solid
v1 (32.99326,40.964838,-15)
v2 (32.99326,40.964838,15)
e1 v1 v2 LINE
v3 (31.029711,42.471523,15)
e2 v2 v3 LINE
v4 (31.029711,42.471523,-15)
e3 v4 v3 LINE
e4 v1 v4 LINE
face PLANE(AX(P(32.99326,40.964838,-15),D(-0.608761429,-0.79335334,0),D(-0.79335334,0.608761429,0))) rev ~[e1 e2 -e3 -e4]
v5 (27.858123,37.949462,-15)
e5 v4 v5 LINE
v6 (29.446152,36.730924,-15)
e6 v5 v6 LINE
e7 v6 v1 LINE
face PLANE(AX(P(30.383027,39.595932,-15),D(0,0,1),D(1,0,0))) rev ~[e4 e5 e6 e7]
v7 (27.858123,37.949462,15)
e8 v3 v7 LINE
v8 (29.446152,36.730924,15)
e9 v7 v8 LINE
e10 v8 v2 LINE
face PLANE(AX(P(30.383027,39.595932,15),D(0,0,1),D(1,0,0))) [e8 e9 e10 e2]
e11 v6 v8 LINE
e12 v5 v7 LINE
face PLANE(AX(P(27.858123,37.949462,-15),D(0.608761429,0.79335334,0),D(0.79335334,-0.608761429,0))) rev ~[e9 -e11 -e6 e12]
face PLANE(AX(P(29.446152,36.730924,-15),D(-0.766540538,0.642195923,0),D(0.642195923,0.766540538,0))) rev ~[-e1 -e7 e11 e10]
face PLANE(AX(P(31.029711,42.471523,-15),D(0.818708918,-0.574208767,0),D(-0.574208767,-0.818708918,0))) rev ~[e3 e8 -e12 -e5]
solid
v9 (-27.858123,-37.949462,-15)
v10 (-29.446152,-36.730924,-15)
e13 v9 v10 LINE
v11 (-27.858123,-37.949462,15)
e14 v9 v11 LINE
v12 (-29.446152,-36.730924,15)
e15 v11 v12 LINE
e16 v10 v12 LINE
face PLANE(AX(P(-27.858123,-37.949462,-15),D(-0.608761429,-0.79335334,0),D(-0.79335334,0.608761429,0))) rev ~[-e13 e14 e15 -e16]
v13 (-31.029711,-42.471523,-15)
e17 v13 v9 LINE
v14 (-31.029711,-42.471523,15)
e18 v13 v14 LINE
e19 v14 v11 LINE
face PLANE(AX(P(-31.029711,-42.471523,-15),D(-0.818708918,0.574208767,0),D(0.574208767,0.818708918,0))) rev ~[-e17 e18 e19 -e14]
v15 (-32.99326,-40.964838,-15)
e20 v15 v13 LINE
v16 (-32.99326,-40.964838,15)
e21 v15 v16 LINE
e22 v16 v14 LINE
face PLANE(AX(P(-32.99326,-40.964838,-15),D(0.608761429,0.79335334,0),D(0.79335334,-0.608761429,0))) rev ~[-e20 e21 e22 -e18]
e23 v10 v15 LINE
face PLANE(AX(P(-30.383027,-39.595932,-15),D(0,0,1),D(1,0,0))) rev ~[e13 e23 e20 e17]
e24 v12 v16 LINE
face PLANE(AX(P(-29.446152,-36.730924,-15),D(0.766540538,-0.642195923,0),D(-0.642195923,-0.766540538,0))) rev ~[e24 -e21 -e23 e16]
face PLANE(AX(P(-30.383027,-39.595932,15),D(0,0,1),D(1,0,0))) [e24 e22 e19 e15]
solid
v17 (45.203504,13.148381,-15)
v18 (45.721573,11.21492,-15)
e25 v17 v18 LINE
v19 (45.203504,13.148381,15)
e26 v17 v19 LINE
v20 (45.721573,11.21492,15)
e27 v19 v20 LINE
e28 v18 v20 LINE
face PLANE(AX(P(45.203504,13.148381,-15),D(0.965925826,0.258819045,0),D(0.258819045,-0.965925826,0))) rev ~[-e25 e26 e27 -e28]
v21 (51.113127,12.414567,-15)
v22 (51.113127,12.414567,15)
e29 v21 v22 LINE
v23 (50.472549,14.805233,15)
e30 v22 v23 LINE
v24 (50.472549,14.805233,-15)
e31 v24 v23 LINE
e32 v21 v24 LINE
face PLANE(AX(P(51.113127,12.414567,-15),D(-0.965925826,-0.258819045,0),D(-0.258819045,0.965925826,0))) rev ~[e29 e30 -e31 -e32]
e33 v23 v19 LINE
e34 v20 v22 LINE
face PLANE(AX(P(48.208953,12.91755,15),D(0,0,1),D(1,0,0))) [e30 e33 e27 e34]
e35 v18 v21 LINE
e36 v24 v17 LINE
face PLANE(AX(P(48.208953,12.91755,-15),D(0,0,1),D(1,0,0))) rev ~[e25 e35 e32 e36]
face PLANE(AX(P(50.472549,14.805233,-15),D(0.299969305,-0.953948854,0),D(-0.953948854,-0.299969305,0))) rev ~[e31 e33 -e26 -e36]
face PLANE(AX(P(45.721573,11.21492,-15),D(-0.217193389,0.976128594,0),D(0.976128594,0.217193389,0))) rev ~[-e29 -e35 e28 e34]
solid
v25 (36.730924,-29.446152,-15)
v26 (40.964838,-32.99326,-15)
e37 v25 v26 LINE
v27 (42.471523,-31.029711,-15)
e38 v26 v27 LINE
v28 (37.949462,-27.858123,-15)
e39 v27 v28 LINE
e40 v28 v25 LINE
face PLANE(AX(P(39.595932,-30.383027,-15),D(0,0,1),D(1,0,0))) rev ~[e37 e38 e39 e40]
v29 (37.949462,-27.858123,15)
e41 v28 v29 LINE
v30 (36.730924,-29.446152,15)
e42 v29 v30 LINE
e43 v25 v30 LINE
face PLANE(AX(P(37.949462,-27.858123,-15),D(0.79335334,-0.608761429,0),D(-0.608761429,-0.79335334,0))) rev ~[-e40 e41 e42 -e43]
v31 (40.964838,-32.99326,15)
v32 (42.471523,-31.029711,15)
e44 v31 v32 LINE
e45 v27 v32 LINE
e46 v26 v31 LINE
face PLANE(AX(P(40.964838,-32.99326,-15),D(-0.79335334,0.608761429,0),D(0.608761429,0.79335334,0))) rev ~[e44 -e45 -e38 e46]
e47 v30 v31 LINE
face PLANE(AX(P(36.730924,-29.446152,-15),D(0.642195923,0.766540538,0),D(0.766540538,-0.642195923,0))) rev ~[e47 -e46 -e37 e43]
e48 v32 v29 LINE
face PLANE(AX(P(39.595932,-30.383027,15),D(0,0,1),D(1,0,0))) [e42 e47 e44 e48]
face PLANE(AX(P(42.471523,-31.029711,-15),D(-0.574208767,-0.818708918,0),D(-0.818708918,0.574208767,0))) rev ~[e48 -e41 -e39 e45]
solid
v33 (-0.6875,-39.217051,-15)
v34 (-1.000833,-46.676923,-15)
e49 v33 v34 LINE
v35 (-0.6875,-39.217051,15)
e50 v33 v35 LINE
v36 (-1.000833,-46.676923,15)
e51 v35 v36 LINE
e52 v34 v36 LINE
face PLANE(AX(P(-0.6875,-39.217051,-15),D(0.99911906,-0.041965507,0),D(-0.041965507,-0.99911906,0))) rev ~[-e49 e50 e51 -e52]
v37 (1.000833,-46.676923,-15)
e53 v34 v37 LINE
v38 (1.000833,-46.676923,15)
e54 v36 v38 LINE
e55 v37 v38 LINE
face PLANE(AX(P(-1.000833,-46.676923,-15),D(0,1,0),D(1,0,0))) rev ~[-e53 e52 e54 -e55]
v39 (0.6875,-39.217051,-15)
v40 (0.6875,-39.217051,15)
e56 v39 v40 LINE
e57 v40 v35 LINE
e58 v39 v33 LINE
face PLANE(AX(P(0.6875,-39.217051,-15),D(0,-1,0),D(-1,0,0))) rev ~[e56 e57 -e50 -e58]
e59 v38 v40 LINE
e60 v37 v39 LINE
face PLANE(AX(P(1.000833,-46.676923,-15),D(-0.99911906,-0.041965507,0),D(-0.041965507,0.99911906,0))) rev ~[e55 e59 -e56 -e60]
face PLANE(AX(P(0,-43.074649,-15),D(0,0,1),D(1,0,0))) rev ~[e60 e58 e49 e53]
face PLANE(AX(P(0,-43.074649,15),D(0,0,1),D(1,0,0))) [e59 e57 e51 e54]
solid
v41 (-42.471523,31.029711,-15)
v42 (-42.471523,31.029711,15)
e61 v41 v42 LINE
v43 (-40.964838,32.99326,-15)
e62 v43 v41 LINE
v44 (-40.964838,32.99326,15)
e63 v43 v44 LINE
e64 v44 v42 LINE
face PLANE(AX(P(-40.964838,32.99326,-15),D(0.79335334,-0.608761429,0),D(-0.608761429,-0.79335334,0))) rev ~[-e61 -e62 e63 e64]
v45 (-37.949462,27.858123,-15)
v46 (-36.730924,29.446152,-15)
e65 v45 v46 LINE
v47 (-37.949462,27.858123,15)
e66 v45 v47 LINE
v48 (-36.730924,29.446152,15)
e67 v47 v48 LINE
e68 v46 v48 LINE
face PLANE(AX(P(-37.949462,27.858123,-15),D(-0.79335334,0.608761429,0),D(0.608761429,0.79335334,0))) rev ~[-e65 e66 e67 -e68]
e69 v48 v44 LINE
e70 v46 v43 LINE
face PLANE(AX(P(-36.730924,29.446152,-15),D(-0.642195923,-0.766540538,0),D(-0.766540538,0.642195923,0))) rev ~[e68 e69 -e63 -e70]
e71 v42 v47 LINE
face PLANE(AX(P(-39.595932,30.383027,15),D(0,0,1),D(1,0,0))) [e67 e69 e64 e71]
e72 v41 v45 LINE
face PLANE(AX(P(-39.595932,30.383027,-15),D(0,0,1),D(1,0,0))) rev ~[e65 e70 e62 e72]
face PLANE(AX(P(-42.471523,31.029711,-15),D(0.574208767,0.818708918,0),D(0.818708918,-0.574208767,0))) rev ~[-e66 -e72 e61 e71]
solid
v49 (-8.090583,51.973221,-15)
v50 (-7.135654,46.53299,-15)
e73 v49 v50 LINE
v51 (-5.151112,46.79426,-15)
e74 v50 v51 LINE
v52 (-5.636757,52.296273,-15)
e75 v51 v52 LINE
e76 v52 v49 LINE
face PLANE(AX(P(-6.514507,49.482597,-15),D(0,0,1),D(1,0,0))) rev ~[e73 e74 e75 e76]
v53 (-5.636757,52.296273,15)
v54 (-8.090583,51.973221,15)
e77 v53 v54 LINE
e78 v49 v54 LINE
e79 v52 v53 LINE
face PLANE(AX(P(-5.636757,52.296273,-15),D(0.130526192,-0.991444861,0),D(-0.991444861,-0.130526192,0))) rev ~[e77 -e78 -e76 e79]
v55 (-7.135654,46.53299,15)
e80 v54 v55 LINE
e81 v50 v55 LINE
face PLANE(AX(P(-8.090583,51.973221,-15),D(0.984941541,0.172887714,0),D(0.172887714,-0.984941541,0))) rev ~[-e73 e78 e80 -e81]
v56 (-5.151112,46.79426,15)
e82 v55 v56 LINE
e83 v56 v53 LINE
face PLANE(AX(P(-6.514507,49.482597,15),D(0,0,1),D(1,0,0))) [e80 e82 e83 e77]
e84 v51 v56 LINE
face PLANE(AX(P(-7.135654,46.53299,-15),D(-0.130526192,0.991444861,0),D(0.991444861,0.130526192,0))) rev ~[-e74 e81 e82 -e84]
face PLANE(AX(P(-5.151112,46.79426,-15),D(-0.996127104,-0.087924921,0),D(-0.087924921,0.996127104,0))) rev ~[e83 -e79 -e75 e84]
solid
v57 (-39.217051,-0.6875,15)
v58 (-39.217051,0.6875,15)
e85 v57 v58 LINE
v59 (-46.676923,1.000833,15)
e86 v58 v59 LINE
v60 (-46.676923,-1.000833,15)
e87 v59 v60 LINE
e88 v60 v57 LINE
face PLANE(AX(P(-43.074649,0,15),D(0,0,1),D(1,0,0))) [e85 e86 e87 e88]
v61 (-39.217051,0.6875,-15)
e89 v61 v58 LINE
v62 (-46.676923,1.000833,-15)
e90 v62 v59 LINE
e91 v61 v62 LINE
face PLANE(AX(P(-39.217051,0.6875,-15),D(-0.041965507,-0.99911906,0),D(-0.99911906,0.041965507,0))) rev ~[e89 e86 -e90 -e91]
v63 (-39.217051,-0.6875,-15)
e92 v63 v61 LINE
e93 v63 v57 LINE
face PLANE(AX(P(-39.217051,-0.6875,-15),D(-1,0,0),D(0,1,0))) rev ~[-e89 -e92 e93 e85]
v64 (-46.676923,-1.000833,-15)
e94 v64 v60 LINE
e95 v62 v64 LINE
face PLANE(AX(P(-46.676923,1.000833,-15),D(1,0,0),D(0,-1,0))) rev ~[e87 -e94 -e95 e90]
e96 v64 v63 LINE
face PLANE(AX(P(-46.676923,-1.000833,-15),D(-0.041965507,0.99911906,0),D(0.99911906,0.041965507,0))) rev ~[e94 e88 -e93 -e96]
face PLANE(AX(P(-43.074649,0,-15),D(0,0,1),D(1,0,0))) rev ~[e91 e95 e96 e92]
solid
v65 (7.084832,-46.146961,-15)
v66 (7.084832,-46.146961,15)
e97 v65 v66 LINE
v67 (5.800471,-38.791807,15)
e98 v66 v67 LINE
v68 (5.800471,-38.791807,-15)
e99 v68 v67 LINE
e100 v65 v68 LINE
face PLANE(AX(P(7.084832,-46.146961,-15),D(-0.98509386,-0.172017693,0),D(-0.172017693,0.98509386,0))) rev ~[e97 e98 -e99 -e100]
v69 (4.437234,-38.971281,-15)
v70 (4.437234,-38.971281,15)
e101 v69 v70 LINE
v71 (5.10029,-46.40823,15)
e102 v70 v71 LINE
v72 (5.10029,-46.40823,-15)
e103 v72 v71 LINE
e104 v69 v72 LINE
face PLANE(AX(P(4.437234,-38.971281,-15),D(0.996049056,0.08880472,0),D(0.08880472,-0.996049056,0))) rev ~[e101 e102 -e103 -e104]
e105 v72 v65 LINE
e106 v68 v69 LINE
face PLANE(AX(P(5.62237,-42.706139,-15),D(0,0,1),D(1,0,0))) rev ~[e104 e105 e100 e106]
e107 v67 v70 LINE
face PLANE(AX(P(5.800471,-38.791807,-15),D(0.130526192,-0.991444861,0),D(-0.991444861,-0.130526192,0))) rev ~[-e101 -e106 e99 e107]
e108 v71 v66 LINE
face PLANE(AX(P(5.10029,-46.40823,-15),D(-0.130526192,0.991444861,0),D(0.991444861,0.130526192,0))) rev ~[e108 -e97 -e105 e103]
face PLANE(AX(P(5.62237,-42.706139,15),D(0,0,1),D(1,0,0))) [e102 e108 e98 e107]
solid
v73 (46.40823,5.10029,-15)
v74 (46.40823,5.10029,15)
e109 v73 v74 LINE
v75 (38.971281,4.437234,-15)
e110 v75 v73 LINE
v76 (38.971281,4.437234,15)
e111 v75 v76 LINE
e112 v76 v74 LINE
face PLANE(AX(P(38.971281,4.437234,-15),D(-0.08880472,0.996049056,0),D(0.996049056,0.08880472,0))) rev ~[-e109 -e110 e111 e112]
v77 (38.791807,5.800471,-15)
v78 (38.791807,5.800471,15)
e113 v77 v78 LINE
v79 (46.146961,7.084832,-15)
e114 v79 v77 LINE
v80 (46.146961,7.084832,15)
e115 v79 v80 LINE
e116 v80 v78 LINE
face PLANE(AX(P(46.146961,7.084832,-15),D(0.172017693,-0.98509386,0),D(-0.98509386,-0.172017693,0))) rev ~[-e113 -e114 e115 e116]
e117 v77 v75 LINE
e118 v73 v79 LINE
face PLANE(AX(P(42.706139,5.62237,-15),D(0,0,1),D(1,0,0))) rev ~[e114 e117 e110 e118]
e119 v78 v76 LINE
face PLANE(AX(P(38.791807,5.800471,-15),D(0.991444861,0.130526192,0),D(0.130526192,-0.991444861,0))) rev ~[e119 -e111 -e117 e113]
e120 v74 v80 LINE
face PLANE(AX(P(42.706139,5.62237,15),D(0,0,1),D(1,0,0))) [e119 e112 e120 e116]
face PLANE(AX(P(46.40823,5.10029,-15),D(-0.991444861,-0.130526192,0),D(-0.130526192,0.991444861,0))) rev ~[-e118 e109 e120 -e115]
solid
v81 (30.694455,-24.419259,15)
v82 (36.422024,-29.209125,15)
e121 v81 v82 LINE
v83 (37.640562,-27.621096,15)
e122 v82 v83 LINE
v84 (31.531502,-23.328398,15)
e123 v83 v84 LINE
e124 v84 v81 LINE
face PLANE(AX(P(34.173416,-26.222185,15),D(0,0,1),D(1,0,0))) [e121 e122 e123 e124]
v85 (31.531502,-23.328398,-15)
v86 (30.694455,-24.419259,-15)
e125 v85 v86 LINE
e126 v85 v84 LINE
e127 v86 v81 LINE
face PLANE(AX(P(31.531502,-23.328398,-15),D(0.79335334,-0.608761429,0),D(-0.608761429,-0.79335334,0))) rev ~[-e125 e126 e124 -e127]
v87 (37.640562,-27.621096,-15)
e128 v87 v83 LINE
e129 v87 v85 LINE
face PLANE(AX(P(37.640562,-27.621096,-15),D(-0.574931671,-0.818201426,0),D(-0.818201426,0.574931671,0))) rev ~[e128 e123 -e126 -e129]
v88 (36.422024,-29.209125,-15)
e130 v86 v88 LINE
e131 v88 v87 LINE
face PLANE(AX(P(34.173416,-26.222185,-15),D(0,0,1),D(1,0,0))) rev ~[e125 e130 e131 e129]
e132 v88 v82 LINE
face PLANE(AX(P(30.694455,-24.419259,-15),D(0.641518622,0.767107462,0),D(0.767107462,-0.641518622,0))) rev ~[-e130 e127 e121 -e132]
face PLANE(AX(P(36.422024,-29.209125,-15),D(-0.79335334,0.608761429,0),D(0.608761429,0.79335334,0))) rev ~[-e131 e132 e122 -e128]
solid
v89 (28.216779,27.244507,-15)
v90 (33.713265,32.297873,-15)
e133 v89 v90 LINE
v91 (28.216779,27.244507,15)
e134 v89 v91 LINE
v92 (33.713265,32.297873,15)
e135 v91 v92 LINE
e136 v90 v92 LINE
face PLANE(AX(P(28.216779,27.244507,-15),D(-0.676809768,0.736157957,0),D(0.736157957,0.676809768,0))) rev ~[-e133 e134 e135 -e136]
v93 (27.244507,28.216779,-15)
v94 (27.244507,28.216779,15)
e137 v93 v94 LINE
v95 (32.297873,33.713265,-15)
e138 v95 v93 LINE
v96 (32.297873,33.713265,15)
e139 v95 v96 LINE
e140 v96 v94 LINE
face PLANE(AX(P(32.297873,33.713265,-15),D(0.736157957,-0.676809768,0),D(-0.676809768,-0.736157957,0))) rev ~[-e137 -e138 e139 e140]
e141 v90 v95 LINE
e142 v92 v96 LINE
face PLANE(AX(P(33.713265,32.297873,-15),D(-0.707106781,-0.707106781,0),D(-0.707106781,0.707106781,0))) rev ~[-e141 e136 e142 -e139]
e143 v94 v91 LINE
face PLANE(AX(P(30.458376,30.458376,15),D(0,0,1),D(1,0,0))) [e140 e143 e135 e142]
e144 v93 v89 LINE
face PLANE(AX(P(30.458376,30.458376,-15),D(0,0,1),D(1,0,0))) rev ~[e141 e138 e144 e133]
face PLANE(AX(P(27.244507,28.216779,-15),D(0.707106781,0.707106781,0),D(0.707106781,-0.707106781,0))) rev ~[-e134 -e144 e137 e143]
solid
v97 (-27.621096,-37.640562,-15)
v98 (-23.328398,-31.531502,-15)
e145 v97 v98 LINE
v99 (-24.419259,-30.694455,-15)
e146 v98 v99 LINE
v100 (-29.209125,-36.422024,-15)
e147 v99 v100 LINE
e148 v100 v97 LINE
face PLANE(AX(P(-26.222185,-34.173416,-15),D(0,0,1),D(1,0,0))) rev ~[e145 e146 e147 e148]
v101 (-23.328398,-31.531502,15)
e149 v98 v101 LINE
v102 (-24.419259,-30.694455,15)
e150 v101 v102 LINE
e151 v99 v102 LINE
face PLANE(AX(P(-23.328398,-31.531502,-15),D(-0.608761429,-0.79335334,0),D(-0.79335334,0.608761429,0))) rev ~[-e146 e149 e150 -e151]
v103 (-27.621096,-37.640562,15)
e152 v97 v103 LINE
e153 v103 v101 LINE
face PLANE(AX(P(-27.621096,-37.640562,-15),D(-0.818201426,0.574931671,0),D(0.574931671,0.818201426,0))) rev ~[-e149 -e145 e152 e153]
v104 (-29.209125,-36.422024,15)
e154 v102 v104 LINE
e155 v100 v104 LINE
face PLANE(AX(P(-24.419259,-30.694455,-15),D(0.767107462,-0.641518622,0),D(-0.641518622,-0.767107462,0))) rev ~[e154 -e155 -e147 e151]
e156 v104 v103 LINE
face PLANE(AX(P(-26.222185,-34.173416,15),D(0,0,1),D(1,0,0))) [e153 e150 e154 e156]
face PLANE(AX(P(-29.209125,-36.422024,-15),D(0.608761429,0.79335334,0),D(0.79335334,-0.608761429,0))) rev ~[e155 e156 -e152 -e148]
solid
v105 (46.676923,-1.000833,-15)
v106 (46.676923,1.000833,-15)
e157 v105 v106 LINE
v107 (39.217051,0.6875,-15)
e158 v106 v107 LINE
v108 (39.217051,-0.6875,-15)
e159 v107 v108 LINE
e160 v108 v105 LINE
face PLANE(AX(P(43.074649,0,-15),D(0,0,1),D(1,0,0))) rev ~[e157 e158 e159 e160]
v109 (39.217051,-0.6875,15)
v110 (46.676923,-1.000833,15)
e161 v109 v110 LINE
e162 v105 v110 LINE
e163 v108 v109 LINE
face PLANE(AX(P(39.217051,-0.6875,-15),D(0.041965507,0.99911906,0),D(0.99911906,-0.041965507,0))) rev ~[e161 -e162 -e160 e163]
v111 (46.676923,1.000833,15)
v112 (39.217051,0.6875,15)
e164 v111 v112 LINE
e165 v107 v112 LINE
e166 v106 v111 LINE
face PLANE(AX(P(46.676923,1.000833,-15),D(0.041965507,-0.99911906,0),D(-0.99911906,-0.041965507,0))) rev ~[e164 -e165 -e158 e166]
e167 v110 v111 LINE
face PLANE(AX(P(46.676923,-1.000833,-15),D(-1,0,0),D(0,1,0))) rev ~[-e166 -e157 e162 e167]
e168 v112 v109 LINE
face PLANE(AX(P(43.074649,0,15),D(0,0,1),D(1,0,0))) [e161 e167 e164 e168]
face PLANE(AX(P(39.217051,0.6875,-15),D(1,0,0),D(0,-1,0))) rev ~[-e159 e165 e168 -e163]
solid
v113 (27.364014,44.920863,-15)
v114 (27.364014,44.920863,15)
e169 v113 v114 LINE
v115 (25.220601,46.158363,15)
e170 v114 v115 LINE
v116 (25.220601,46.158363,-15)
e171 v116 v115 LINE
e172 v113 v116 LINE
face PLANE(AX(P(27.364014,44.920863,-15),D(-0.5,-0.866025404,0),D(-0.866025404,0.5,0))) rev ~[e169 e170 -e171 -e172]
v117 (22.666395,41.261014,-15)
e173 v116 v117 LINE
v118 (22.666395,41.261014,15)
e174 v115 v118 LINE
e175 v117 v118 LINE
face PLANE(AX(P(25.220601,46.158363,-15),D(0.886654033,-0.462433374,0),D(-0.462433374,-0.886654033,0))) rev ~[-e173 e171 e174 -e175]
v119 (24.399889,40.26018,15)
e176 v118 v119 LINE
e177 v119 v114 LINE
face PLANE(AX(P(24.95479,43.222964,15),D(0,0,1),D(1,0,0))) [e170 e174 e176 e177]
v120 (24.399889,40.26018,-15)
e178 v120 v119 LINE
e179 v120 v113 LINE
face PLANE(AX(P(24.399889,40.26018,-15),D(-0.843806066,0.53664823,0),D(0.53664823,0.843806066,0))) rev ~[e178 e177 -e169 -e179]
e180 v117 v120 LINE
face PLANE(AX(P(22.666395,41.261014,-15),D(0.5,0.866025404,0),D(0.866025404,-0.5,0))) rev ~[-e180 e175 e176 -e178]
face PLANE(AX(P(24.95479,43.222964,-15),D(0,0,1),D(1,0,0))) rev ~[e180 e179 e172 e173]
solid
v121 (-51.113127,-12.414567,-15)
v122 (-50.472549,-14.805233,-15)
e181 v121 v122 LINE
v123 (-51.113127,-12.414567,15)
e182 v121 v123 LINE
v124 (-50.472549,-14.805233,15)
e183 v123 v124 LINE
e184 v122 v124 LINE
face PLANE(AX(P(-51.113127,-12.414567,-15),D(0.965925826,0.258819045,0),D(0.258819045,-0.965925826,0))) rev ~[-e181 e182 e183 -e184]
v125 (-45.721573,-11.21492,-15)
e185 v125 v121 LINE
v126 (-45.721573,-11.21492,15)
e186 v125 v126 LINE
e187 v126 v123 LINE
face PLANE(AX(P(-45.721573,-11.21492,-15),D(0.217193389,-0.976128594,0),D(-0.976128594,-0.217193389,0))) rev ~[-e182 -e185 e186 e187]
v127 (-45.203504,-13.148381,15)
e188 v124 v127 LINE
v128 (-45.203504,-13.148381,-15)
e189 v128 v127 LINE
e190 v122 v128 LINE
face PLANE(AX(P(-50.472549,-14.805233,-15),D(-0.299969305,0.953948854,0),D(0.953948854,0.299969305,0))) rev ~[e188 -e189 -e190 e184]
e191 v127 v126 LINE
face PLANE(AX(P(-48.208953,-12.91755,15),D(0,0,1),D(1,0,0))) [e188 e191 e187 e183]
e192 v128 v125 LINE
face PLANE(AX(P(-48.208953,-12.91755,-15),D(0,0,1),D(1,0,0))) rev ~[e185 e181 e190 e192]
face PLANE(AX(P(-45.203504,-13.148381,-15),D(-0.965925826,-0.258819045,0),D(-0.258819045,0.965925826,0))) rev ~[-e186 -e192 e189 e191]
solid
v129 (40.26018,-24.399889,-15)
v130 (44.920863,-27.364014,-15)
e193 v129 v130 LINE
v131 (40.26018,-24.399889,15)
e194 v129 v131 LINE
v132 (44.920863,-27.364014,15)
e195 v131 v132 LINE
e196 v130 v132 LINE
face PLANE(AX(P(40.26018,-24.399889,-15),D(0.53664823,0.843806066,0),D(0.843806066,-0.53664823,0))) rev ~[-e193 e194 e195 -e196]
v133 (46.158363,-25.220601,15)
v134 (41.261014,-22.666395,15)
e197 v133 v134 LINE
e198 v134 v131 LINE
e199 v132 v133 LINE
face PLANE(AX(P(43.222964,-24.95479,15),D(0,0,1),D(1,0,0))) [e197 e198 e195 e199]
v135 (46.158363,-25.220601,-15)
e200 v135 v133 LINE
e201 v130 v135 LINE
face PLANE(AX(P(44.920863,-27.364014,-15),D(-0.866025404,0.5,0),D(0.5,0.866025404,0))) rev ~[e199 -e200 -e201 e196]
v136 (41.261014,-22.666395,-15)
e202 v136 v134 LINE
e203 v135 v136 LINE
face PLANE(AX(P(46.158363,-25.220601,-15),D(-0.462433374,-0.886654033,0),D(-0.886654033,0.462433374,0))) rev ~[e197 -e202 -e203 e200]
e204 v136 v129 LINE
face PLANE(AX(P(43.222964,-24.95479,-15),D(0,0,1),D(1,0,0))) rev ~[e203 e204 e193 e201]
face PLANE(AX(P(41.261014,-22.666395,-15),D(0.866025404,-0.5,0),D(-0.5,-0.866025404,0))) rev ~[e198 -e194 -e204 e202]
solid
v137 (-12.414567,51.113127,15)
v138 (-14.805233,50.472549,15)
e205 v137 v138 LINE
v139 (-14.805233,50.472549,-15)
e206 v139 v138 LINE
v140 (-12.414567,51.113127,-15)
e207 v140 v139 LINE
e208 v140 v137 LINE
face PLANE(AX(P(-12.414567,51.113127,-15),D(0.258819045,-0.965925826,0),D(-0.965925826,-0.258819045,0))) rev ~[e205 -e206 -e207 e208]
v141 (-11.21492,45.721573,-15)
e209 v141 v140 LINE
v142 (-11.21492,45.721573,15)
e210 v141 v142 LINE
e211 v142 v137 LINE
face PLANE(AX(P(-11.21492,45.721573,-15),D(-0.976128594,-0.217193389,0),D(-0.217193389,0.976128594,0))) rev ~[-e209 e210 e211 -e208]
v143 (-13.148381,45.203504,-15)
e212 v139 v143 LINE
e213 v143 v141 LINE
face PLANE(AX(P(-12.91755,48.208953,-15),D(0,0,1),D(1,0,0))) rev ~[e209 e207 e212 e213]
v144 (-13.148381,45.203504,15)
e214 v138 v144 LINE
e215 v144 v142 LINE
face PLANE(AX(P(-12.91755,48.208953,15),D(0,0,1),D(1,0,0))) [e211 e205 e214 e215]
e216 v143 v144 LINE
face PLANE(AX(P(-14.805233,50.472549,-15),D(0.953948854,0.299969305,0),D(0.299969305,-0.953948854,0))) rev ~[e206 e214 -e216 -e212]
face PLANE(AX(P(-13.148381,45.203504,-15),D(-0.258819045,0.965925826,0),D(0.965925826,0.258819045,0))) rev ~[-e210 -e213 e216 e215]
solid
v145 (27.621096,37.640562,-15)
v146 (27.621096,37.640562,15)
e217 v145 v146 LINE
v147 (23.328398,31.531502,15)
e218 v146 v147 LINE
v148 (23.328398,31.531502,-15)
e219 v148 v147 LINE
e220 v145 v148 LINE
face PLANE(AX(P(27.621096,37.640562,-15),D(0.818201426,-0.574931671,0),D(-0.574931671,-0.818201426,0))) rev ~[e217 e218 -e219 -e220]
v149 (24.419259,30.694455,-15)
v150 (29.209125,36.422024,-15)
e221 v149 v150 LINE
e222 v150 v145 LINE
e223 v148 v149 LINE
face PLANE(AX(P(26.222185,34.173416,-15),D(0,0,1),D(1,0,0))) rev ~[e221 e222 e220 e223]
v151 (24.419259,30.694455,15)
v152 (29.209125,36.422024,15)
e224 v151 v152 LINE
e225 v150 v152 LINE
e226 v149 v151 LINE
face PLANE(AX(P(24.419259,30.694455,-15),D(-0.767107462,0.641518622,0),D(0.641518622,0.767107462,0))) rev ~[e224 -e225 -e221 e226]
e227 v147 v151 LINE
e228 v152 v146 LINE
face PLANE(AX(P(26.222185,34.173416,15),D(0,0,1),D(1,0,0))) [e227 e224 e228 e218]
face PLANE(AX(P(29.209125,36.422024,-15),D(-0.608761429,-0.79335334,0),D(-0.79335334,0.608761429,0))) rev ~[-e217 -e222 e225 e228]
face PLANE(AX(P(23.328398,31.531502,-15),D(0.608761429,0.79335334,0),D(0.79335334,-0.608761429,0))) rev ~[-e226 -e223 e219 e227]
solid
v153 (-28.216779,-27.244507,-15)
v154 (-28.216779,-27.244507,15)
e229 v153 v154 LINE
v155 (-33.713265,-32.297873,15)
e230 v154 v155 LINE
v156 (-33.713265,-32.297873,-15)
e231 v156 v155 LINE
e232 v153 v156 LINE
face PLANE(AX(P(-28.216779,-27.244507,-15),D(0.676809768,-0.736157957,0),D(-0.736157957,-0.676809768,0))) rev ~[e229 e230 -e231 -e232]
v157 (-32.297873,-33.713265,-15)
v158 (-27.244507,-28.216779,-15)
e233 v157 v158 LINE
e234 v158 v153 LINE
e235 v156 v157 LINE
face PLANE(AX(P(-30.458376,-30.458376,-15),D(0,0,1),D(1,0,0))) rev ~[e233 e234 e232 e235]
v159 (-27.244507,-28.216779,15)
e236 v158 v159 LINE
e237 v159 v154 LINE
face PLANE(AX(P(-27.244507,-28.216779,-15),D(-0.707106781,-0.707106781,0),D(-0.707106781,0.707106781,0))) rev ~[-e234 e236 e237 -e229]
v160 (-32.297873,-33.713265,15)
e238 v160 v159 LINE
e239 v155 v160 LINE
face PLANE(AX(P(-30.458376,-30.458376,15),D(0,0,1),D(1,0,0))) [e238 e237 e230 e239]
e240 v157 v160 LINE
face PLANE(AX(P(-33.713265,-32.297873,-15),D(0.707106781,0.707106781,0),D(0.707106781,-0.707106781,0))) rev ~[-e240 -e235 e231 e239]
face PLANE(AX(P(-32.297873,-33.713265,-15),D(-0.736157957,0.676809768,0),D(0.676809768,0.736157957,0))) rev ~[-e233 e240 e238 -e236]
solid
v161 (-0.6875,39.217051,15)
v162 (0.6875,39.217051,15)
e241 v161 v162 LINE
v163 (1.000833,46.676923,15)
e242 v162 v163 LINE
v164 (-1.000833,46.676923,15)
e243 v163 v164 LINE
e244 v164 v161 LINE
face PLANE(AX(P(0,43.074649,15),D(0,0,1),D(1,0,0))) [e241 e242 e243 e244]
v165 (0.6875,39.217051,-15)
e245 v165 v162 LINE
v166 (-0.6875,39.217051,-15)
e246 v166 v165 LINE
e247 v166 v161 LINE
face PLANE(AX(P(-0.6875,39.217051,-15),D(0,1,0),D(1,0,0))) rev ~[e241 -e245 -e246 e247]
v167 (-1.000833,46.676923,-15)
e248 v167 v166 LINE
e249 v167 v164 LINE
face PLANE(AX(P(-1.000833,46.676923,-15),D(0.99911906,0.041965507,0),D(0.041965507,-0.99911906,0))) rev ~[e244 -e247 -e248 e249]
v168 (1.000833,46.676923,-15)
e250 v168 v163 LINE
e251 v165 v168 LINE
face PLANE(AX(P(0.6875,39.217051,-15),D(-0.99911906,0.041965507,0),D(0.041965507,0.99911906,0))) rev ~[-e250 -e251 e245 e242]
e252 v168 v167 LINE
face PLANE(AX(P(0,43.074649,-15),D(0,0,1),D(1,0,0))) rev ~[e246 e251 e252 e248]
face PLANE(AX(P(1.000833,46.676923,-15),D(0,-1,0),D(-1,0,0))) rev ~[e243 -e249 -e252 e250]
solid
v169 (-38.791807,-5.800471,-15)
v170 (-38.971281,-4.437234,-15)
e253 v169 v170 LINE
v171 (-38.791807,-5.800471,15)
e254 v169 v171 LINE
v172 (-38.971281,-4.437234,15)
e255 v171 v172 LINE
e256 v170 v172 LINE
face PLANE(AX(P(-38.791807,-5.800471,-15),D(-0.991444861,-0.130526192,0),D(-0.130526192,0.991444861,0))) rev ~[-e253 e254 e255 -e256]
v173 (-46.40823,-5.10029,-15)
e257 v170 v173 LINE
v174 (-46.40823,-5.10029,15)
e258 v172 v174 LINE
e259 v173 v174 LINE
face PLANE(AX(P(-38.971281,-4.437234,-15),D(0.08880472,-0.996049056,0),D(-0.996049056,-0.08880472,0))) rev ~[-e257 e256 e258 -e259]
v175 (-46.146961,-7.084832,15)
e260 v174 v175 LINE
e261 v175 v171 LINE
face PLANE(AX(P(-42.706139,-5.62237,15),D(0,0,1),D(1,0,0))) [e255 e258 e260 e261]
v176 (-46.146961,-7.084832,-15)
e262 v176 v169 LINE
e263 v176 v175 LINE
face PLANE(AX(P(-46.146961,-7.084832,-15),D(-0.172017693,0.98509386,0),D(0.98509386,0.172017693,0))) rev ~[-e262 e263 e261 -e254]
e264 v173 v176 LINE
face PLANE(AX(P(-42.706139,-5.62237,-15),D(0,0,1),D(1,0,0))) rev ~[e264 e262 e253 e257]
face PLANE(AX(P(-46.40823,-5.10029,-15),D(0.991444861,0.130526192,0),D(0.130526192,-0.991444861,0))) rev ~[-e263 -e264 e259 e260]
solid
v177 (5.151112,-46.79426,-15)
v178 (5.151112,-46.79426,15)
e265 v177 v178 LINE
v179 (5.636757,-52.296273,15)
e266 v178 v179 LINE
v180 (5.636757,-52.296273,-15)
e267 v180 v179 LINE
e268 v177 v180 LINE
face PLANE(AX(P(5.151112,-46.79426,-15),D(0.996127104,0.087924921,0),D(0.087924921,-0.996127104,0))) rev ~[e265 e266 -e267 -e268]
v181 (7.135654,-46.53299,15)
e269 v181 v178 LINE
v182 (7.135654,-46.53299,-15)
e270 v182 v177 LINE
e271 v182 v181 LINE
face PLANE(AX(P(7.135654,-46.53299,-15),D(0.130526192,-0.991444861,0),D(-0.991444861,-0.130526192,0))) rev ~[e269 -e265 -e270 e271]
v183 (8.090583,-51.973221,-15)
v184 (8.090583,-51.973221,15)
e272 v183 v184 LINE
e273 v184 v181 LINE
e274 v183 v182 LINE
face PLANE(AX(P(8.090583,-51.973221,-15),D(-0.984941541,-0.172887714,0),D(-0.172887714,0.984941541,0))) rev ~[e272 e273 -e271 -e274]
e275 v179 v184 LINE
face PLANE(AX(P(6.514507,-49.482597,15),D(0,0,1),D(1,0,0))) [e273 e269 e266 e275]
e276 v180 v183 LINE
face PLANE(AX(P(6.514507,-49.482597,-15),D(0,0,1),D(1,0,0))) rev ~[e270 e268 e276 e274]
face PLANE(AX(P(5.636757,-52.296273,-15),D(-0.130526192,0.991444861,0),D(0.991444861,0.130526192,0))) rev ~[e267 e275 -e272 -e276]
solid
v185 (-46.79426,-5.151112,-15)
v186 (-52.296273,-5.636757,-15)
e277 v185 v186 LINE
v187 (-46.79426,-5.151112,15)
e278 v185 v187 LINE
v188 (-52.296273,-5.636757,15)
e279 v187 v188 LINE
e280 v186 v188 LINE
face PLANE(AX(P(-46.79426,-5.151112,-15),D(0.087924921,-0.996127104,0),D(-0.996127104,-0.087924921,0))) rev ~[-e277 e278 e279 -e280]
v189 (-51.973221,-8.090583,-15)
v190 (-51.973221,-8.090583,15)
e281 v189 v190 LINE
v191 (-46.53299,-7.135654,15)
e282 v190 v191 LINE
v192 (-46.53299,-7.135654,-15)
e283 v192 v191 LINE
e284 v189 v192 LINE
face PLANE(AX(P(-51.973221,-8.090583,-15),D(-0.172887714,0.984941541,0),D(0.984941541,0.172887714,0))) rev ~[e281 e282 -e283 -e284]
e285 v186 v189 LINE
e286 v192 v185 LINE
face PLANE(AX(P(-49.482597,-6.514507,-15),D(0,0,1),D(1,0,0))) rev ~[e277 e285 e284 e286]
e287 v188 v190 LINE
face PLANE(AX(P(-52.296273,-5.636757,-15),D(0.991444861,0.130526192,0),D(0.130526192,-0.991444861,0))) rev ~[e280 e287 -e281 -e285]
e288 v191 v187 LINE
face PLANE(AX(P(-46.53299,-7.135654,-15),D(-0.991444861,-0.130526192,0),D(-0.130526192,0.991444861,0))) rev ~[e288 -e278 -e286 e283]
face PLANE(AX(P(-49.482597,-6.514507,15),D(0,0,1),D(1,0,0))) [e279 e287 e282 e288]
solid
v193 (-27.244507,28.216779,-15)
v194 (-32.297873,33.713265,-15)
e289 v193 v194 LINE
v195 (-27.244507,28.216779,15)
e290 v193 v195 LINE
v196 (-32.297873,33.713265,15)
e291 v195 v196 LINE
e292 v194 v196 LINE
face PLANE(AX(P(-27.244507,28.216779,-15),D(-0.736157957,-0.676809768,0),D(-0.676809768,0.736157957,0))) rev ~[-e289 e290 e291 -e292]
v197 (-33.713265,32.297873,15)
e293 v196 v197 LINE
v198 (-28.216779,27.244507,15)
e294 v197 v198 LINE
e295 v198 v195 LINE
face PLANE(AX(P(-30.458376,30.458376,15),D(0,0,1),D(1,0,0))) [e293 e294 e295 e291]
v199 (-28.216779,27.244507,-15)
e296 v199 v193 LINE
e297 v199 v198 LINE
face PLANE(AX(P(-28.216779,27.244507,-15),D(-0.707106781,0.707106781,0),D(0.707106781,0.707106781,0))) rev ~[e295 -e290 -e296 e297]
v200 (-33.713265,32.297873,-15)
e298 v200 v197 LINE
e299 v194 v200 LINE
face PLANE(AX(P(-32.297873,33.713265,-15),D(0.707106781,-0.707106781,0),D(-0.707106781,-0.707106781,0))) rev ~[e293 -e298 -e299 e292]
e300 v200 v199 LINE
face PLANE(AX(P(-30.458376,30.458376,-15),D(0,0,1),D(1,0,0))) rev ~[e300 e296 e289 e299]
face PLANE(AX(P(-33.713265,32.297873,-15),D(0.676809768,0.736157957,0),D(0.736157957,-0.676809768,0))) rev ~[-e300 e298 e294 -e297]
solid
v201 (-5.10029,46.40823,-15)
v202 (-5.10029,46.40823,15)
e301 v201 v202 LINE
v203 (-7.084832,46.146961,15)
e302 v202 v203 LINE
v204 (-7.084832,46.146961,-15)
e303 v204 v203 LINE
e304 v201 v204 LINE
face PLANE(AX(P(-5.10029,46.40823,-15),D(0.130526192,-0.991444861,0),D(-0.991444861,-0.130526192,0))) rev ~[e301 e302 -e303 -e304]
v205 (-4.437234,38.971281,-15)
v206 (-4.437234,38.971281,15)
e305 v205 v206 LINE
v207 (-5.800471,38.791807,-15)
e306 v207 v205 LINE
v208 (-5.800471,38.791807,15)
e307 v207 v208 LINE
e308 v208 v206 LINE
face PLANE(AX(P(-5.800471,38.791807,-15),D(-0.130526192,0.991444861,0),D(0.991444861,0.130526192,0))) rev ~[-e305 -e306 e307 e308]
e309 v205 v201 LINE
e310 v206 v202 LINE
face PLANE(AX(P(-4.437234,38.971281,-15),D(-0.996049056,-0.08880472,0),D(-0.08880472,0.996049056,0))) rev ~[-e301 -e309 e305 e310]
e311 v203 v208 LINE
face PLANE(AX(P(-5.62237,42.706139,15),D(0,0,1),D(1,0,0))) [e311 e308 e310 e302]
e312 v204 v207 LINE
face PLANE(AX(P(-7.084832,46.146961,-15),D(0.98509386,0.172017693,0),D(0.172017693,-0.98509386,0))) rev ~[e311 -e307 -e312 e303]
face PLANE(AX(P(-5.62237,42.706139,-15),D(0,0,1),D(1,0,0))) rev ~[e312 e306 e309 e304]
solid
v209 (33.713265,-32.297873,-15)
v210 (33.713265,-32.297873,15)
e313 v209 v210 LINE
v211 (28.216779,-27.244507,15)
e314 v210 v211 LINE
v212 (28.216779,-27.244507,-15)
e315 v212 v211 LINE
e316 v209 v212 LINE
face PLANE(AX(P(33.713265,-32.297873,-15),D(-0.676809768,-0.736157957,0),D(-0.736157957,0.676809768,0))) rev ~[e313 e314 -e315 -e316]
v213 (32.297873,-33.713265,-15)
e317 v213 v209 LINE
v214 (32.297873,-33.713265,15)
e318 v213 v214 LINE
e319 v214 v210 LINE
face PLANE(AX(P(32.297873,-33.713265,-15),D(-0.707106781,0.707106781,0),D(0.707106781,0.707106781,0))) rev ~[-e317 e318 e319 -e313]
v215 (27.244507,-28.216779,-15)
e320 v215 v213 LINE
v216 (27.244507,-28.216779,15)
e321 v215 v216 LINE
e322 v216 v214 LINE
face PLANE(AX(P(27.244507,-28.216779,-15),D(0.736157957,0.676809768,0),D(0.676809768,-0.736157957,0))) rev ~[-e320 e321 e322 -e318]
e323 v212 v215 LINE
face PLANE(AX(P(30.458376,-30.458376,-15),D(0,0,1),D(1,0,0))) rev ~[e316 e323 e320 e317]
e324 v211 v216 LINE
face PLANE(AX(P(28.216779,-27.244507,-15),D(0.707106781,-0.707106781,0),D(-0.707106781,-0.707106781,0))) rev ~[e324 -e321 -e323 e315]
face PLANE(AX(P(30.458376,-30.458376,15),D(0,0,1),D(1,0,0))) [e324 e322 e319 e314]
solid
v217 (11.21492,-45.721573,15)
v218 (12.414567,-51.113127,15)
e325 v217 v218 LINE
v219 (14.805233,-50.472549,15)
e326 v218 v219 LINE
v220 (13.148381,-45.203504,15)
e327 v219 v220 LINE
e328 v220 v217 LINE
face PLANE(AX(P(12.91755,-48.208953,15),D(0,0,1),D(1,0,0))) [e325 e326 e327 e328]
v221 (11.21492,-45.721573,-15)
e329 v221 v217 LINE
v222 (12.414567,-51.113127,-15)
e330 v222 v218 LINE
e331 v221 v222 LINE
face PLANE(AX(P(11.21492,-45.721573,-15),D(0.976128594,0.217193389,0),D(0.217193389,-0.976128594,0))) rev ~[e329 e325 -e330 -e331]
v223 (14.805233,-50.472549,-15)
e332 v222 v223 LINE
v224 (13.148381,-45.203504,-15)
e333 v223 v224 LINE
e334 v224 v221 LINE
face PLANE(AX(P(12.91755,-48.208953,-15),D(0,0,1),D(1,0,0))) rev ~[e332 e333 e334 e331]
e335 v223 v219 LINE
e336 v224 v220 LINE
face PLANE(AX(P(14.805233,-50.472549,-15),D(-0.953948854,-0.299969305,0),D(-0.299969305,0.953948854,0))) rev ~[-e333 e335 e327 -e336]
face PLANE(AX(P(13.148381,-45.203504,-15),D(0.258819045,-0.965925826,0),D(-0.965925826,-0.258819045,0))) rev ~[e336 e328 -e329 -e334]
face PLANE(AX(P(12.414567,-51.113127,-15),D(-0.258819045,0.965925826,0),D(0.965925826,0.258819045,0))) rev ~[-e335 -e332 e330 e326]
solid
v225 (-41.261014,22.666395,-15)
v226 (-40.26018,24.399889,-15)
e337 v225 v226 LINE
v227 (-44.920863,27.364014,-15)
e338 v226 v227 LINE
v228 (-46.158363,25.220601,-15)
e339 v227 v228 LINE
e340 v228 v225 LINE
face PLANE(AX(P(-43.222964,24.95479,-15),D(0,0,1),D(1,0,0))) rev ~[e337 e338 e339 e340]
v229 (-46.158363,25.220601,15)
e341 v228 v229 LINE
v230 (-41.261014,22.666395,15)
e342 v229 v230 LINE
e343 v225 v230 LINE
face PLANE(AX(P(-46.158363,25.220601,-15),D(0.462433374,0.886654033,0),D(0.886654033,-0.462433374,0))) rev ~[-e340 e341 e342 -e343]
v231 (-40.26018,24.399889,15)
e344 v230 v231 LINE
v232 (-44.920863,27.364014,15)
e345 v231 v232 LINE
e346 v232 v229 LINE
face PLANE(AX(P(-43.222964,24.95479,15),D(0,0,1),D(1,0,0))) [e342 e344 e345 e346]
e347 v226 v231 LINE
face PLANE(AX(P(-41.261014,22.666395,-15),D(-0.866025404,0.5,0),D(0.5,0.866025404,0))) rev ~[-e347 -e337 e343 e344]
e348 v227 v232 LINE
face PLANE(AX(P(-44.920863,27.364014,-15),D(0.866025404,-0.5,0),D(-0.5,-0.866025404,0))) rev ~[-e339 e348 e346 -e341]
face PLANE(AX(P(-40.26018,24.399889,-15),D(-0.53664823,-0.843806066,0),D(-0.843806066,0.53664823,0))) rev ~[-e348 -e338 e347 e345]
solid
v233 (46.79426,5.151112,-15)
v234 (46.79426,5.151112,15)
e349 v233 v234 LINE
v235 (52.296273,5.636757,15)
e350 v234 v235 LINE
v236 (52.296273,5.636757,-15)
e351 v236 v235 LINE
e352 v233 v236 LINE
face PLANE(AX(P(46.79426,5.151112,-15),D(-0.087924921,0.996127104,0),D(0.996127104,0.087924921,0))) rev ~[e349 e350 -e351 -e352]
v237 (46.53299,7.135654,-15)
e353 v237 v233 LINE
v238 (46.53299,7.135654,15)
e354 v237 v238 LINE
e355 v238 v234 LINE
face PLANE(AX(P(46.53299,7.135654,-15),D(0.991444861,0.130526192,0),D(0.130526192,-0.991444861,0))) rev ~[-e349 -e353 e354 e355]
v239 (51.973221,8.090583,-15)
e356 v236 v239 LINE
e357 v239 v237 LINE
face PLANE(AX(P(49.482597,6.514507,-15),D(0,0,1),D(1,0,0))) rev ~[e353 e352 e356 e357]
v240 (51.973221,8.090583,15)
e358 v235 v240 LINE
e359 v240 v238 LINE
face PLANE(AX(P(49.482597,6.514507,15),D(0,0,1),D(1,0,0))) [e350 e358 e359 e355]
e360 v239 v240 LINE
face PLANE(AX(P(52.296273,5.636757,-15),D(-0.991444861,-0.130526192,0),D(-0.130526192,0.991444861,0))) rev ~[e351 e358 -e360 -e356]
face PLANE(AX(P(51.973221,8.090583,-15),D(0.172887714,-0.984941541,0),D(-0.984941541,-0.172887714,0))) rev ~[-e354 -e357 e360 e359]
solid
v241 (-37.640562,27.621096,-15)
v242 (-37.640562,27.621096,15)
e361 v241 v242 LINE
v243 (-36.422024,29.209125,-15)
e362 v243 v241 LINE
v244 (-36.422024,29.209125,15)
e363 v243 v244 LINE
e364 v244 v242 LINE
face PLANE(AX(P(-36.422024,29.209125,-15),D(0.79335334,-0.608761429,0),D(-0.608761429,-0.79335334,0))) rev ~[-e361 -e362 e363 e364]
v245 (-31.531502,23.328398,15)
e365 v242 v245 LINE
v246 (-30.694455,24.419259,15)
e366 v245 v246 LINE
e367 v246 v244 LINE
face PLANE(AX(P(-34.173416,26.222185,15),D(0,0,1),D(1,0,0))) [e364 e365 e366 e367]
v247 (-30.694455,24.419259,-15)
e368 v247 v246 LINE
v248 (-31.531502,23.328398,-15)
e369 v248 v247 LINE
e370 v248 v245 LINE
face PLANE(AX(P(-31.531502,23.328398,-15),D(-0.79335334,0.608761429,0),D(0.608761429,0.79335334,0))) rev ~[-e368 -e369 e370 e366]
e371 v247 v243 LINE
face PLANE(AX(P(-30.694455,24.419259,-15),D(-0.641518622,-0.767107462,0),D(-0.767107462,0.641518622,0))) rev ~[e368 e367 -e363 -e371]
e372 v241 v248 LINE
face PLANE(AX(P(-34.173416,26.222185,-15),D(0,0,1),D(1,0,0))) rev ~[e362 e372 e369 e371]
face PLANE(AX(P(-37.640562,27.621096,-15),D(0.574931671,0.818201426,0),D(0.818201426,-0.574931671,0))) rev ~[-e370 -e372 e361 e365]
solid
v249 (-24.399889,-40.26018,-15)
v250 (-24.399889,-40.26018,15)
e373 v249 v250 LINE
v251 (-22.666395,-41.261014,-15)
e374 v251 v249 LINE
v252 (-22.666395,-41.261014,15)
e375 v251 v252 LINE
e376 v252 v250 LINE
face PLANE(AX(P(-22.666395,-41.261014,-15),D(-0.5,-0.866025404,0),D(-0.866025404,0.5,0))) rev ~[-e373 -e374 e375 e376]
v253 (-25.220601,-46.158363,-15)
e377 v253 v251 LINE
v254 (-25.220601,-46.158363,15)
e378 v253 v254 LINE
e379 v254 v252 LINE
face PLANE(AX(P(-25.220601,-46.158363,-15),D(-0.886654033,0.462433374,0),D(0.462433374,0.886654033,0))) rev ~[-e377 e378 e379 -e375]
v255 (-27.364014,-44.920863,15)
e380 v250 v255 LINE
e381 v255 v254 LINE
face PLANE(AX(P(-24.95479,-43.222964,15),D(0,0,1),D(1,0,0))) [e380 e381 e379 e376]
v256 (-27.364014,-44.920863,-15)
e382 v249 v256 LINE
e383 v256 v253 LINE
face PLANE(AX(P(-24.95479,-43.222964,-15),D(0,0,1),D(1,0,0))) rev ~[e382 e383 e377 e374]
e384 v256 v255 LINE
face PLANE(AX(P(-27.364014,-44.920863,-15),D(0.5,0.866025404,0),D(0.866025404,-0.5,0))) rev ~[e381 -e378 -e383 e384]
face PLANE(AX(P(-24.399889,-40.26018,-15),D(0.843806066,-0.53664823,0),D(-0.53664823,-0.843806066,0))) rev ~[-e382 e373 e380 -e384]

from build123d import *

# Parameters (mm, degrees)
SLOT_COPPER_ENVELOPES_START    = -15
SLOT_COPPER_ENVELOPES_DEPTH    = 30
SLOT_COPPER_ENVELOPES_2_DEPTH  = 30
SLOT_COPPER_ENVELOPES_3_DEPTH  = 30
SLOT_COPPER_ENVELOPES_4_DEPTH  = 30
SLOT_COPPER_ENVELOPES_5_DEPTH  = 30
SLOT_COPPER_ENVELOPES_6_DEPTH  = 30
SLOT_COPPER_ENVELOPES_7_DEPTH  = 30
SLOT_COPPER_ENVELOPES_8_DEPTH  = 30
SLOT_COPPER_ENVELOPES_9_DEPTH  = 30
SLOT_COPPER_ENVELOPES_10_DEPTH = 30
SLOT_COPPER_ENVELOPES_11_DEPTH = 30
SLOT_COPPER_ENVELOPES_12_DEPTH = 30
SLOT_COPPER_ENVELOPES_13_DEPTH = 30
SLOT_COPPER_ENVELOPES_14_DEPTH = 30
SLOT_COPPER_ENVELOPES_15_DEPTH = 30
SLOT_COPPER_ENVELOPES_16_DEPTH = 30
SLOT_COPPER_ENVELOPES_17_DEPTH = 30
SLOT_COPPER_ENVELOPES_18_DEPTH = 30
SLOT_COPPER_ENVELOPES_19_DEPTH = 30
SLOT_COPPER_ENVELOPES_20_DEPTH = 30
SLOT_COPPER_ENVELOPES_21_DEPTH = 30
SLOT_COPPER_ENVELOPES_22_DEPTH = 30
SLOT_COPPER_ENVELOPES_23_DEPTH = 30
SLOT_COPPER_ENVELOPES_24_DEPTH = 30
SLOT_COPPER_ENVELOPES_25_DEPTH = 30
SLOT_COPPER_ENVELOPES_26_DEPTH = 30
SLOT_COPPER_ENVELOPES_27_DEPTH = 30
SLOT_COPPER_ENVELOPES_28_DEPTH = 30
SLOT_COPPER_ENVELOPES_29_DEPTH = 30
SLOT_COPPER_ENVELOPES_30_DEPTH = 30
SLOT_COPPER_ENVELOPES_31_DEPTH = 30
SLOT_COPPER_ENVELOPES_32_DEPTH = 30


with BuildPart() as part:
    # Эскиз1 → Slot_copper_envelopes (new body)
    with BuildSketch(Plane.XY.offset(SLOT_COPPER_ENVELOPES_START)):
        Polygon((39.217051229, -0.6875), (46.676923077, -1.000833333), (46.676923077, 1.000833333), (39.217051229, 0.6875), align=None)
    extrude(amount=SLOT_COPPER_ENVELOPES_DEPTH)


with BuildPart() as body_2:
    # Эскиз1 → Slot_copper_envelopes 2 (new body)
    with BuildSketch(Plane.XY.offset(SLOT_COPPER_ENVELOPES_START)):
        Polygon((46.794259637, 5.151111669), (52.296272873, 5.6367566), (51.973220548, 8.090582631), (46.532989709, 7.1356538), align=None)
    extrude(amount=SLOT_COPPER_ENVELOPES_2_DEPTH)


with BuildPart() as body_3:
    # Эскиз1 → Slot_copper_envelopes 3 (new body)
    with BuildSketch(Plane.XY.offset(SLOT_COPPER_ENVELOPES_START)):
        Polygon((38.971280676, 4.437234025), (46.408230493, 5.100289968), (46.146960565, 7.084832099), (38.791807162, 5.800470709), align=None)
    extrude(amount=SLOT_COPPER_ENVELOPES_3_DEPTH)


with BuildPart() as body_4:
    # Эскиз1 → Slot_copper_envelopes 4 (new body)
    with BuildSketch(Plane.XY.offset(SLOT_COPPER_ENVELOPES_START)):
        Polygon((45.721573267, 11.214919723), (51.113126634, 12.414566731), (50.472549497, 14.805233151), (45.203503812, 13.148381252), align=None)
    extrude(amount=SLOT_COPPER_ENVELOPES_4_DEPTH)


with BuildPart() as body_5:
    # Эскиз1 → Slot_copper_envelopes 5 (new body)
    with BuildSketch(Plane.XY.offset(SLOT_COPPER_ENVELOPES_START)):
        Polygon((28.216778774, 27.24450695), (33.713264869, 32.297872796), (32.297872796, 33.713264869), (27.24450695, 28.216778774), align=None)
    extrude(amount=SLOT_COPPER_ENVELOPES_5_DEPTH)


with BuildPart() as body_6:
    # Эскиз1 → Slot_copper_envelopes 6 (new body)
    with BuildSketch(Plane.XY.offset(SLOT_COPPER_ENVELOPES_START)):
        Polygon((29.446152318, 36.730924302), (32.993260364, 40.964837995), (31.029710847, 42.471522532), (27.858123382, 37.949461762), align=None)
    extrude(amount=SLOT_COPPER_ENVELOPES_6_DEPTH)


with BuildPart() as body_7:
    # Эскиз1 → Slot_copper_envelopes 7 (new body)
    with BuildSketch(Plane.XY.offset(SLOT_COPPER_ENVELOPES_START)):
        Polygon((24.419258569, 30.694455106), (29.209124862, 36.422024107), (27.621095926, 37.640561568), (23.328397726, 31.531502071), align=None)
    extrude(amount=SLOT_COPPER_ENVELOPES_7_DEPTH)


with BuildPart() as body_8:
    # Эскиз1 → Slot_copper_envelopes 8 (new body)
    with BuildSketch(Plane.XY.offset(SLOT_COPPER_ENVELOPES_START)):
        Polygon((24.399888717, 40.26018029), (27.364014129, 44.920862771), (25.220601255, 46.158362771), (22.666394534, 41.261013623), align=None)
    extrude(amount=SLOT_COPPER_ENVELOPES_8_DEPTH)


with BuildPart() as body_9:
    # Эскиз1 → Slot_copper_envelopes 9 (new body)
    with BuildSketch(Plane.XY.offset(SLOT_COPPER_ENVELOPES_START)):
        Polygon((0.6875, 39.217051229), (1.000833333, 46.676923077), (-1.000833333, 46.676923077), (-0.6875, 39.217051229), align=None)
    extrude(amount=SLOT_COPPER_ENVELOPES_9_DEPTH)


with BuildPart() as body_10:
    # Эскиз1 → Slot_copper_envelopes 10 (new body)
    with BuildSketch(Plane.XY.offset(SLOT_COPPER_ENVELOPES_START)):
        Polygon((-5.151111669, 46.794259637), (-5.6367566, 52.296272873), (-8.090582631, 51.973220548), (-7.1356538, 46.532989709), align=None)
    extrude(amount=SLOT_COPPER_ENVELOPES_10_DEPTH)


with BuildPart() as body_11:
    # Эскиз1 → Slot_copper_envelopes 11 (new body)
    with BuildSketch(Plane.XY.offset(SLOT_COPPER_ENVELOPES_START)):
        Polygon((-4.437234025, 38.971280676), (-5.100289968, 46.408230493), (-7.084832099, 46.146960565), (-5.800470709, 38.791807162), align=None)
    extrude(amount=SLOT_COPPER_ENVELOPES_11_DEPTH)


with BuildPart() as body_12:
    # Эскиз1 → Slot_copper_envelopes 12 (new body)
    with BuildSketch(Plane.XY.offset(SLOT_COPPER_ENVELOPES_START)):
        Polygon((-11.214919723, 45.721573267), (-12.414566731, 51.113126634), (-14.805233151, 50.472549497), (-13.148381252, 45.203503812), align=None)
    extrude(amount=SLOT_COPPER_ENVELOPES_12_DEPTH)


with BuildPart() as body_13:
    # Эскиз1 → Slot_copper_envelopes 13 (new body)
    with BuildSketch(Plane.XY.offset(SLOT_COPPER_ENVELOPES_START)):
        Polygon((-27.24450695, 28.216778774), (-32.297872796, 33.713264869), (-33.713264869, 32.297872796), (-28.216778774, 27.24450695), align=None)
    extrude(amount=SLOT_COPPER_ENVELOPES_13_DEPTH)


with BuildPart() as body_14:
    # Эскиз1 → Slot_copper_envelopes 14 (new body)
    with BuildSketch(Plane.XY.offset(SLOT_COPPER_ENVELOPES_START)):
        Polygon((-36.730924302, 29.446152318), (-40.964837995, 32.993260364), (-42.471522532, 31.029710847), (-37.949461762, 27.858123382), align=None)
    extrude(amount=SLOT_COPPER_ENVELOPES_14_DEPTH)


with BuildPart() as body_15:
    # Эскиз1 → Slot_copper_envelopes 15 (new body)
    with BuildSketch(Plane.XY.offset(SLOT_COPPER_ENVELOPES_START)):
        Polygon((-30.694455106, 24.419258569), (-36.422024107, 29.209124862), (-37.640561568, 27.621095926), (-31.531502071, 23.328397726), align=None)
    extrude(amount=SLOT_COPPER_ENVELOPES_15_DEPTH)


with BuildPart() as body_16:
    # Эскиз1 → Slot_copper_envelopes 16 (new body)
    with BuildSketch(Plane.XY.offset(SLOT_COPPER_ENVELOPES_START)):
        Polygon((-40.26018029, 24.399888717), (-44.920862771, 27.364014129), (-46.158362771, 25.220601255), (-41.261013623, 22.666394534), align=None)
    extrude(amount=SLOT_COPPER_ENVELOPES_16_DEPTH)


with BuildPart() as body_17:
    # Эскиз1 → Slot_copper_envelopes 17 (new body)
    with BuildSketch(Plane.XY.offset(SLOT_COPPER_ENVELOPES_START)):
        Polygon((-39.217051229, 0.6875), (-46.676923077, 1.000833333), (-46.676923077, -1.000833333), (-39.217051229, -0.6875), align=None)
    extrude(amount=SLOT_COPPER_ENVELOPES_17_DEPTH)


with BuildPart() as body_18:
    # Эскиз1 → Slot_copper_envelopes 18 (new body)
    with BuildSketch(Plane.XY.offset(SLOT_COPPER_ENVELOPES_START)):
        Polygon((-46.794259637, -5.151111669), (-52.296272873, -5.6367566), (-51.973220548, -8.090582631), (-46.532989709, -7.1356538), align=None)
    extrude(amount=SLOT_COPPER_ENVELOPES_18_DEPTH)


with BuildPart() as body_19:
    # Эскиз1 → Slot_copper_envelopes 19 (new body)
    with BuildSketch(Plane.XY.offset(SLOT_COPPER_ENVELOPES_START)):
        Polygon((-38.971280676, -4.437234025), (-46.408230493, -5.100289968), (-46.146960565, -7.084832099), (-38.791807162, -5.800470709), align=None)
    extrude(amount=SLOT_COPPER_ENVELOPES_19_DEPTH)


with BuildPart() as body_20:
    # Эскиз1 → Slot_copper_envelopes 20 (new body)
    with BuildSketch(Plane.XY.offset(SLOT_COPPER_ENVELOPES_START)):
        Polygon((-45.721573267, -11.214919723), (-51.113126634, -12.414566731), (-50.472549497, -14.805233151), (-45.203503812, -13.148381252), align=None)
    extrude(amount=SLOT_COPPER_ENVELOPES_20_DEPTH)


with BuildPart() as body_21:
    # Эскиз1 → Slot_copper_envelopes 21 (new body)
    with BuildSketch(Plane.XY.offset(SLOT_COPPER_ENVELOPES_START)):
        Polygon((-28.216778774, -27.24450695), (-33.713264869, -32.297872796), (-32.297872796, -33.713264869), (-27.24450695, -28.216778774), align=None)
    extrude(amount=SLOT_COPPER_ENVELOPES_21_DEPTH)


with BuildPart() as body_22:
    # Эскиз1 → Slot_copper_envelopes 22 (new body)
    with BuildSketch(Plane.XY.offset(SLOT_COPPER_ENVELOPES_START)):
        Polygon((-29.446152318, -36.730924302), (-32.993260364, -40.964837995), (-31.029710847, -42.471522532), (-27.858123382, -37.949461762), align=None)
    extrude(amount=SLOT_COPPER_ENVELOPES_22_DEPTH)


with BuildPart() as body_23:
    # Эскиз1 → Slot_copper_envelopes 23 (new body)
    with BuildSketch(Plane.XY.offset(SLOT_COPPER_ENVELOPES_START)):
        Polygon((-24.419258569, -30.694455106), (-29.209124862, -36.422024107), (-27.621095926, -37.640561568), (-23.328397726, -31.531502071), align=None)
    extrude(amount=SLOT_COPPER_ENVELOPES_23_DEPTH)


with BuildPart() as body_24:
    # Эскиз1 → Slot_copper_envelopes 24 (new body)
    with BuildSketch(Plane.XY.offset(SLOT_COPPER_ENVELOPES_START)):
        Polygon((-24.399888717, -40.26018029), (-27.364014129, -44.920862771), (-25.220601255, -46.158362771), (-22.666394534, -41.261013623), align=None)
    extrude(amount=SLOT_COPPER_ENVELOPES_24_DEPTH)


with BuildPart() as body_25:
    # Эскиз1 → Slot_copper_envelopes 25 (new body)
    with BuildSketch(Plane.XY.offset(SLOT_COPPER_ENVELOPES_START)):
        Polygon((-0.6875, -39.217051229), (-1.000833333, -46.676923077), (1.000833333, -46.676923077), (0.6875, -39.217051229), align=None)
    extrude(amount=SLOT_COPPER_ENVELOPES_25_DEPTH)


with BuildPart() as body_26:
    # Эскиз1 → Slot_copper_envelopes 26 (new body)
    with BuildSketch(Plane.XY.offset(SLOT_COPPER_ENVELOPES_START)):
        Polygon((5.151111669, -46.794259637), (5.6367566, -52.296272873), (8.090582631, -51.973220548), (7.1356538, -46.532989709), align=None)
    extrude(amount=SLOT_COPPER_ENVELOPES_26_DEPTH)


with BuildPart() as body_27:
    # Эскиз1 → Slot_copper_envelopes 27 (new body)
    with BuildSketch(Plane.XY.offset(SLOT_COPPER_ENVELOPES_START)):
        Polygon((4.437234025, -38.971280676), (5.100289968, -46.408230493), (7.084832099, -46.146960565), (5.800470709, -38.791807162), align=None)
    extrude(amount=SLOT_COPPER_ENVELOPES_27_DEPTH)


with BuildPart() as body_28:
    # Эскиз1 → Slot_copper_envelopes 28 (new body)
    with BuildSketch(Plane.XY.offset(SLOT_COPPER_ENVELOPES_START)):
        Polygon((11.214919723, -45.721573267), (12.414566731, -51.113126634), (14.805233151, -50.472549497), (13.148381252, -45.203503812), align=None)
    extrude(amount=SLOT_COPPER_ENVELOPES_28_DEPTH)


with BuildPart() as body_29:
    # Эскиз1 → Slot_copper_envelopes 29 (new body)
    with BuildSketch(Plane.XY.offset(SLOT_COPPER_ENVELOPES_START)):
        Polygon((27.24450695, -28.216778774), (32.297872796, -33.713264869), (33.713264869, -32.297872796), (28.216778774, -27.24450695), align=None)
    extrude(amount=SLOT_COPPER_ENVELOPES_29_DEPTH)


with BuildPart() as body_30:
    # Эскиз1 → Slot_copper_envelopes 30 (new body)
    with BuildSketch(Plane.XY.offset(SLOT_COPPER_ENVELOPES_START)):
        Polygon((36.730924302, -29.446152318), (40.964837995, -32.993260364), (42.471522532, -31.029710847), (37.949461762, -27.858123382), align=None)
    extrude(amount=SLOT_COPPER_ENVELOPES_30_DEPTH)


with BuildPart() as body_31:
    # Эскиз1 → Slot_copper_envelopes 31 (new body)
    with BuildSketch(Plane.XY.offset(SLOT_COPPER_ENVELOPES_START)):
        Polygon((30.694455106, -24.419258569), (36.422024107, -29.209124862), (37.640561568, -27.621095926), (31.531502071, -23.328397726), align=None)
    extrude(amount=SLOT_COPPER_ENVELOPES_31_DEPTH)


with BuildPart() as body_32:
    # Эскиз1 → Slot_copper_envelopes 32 (new body)
    with BuildSketch(Plane.XY.offset(SLOT_COPPER_ENVELOPES_START)):
        Polygon((40.26018029, -24.399888717), (44.920862771, -27.364014129), (46.158362771, -25.220601255), (41.261013623, -22.666394534), align=None)
    extrude(amount=SLOT_COPPER_ENVELOPES_32_DEPTH)


solid = Compound([part.part, body_2.part, body_3.part, body_4.part, body_5.part, body_6.part, body_7.part, body_8.part, body_9.part, body_10.part, body_11.part, body_12.part, body_13.part, body_14.part, body_15.part, body_16.part, body_17.part, body_18.part, body_19.part, body_20.part, body_21.part, body_22.part, body_23.part, body_24.part, body_25.part, body_26.part, body_27.part, body_28.part, body_29.part, body_30.part, body_31.part, body_32.part])
